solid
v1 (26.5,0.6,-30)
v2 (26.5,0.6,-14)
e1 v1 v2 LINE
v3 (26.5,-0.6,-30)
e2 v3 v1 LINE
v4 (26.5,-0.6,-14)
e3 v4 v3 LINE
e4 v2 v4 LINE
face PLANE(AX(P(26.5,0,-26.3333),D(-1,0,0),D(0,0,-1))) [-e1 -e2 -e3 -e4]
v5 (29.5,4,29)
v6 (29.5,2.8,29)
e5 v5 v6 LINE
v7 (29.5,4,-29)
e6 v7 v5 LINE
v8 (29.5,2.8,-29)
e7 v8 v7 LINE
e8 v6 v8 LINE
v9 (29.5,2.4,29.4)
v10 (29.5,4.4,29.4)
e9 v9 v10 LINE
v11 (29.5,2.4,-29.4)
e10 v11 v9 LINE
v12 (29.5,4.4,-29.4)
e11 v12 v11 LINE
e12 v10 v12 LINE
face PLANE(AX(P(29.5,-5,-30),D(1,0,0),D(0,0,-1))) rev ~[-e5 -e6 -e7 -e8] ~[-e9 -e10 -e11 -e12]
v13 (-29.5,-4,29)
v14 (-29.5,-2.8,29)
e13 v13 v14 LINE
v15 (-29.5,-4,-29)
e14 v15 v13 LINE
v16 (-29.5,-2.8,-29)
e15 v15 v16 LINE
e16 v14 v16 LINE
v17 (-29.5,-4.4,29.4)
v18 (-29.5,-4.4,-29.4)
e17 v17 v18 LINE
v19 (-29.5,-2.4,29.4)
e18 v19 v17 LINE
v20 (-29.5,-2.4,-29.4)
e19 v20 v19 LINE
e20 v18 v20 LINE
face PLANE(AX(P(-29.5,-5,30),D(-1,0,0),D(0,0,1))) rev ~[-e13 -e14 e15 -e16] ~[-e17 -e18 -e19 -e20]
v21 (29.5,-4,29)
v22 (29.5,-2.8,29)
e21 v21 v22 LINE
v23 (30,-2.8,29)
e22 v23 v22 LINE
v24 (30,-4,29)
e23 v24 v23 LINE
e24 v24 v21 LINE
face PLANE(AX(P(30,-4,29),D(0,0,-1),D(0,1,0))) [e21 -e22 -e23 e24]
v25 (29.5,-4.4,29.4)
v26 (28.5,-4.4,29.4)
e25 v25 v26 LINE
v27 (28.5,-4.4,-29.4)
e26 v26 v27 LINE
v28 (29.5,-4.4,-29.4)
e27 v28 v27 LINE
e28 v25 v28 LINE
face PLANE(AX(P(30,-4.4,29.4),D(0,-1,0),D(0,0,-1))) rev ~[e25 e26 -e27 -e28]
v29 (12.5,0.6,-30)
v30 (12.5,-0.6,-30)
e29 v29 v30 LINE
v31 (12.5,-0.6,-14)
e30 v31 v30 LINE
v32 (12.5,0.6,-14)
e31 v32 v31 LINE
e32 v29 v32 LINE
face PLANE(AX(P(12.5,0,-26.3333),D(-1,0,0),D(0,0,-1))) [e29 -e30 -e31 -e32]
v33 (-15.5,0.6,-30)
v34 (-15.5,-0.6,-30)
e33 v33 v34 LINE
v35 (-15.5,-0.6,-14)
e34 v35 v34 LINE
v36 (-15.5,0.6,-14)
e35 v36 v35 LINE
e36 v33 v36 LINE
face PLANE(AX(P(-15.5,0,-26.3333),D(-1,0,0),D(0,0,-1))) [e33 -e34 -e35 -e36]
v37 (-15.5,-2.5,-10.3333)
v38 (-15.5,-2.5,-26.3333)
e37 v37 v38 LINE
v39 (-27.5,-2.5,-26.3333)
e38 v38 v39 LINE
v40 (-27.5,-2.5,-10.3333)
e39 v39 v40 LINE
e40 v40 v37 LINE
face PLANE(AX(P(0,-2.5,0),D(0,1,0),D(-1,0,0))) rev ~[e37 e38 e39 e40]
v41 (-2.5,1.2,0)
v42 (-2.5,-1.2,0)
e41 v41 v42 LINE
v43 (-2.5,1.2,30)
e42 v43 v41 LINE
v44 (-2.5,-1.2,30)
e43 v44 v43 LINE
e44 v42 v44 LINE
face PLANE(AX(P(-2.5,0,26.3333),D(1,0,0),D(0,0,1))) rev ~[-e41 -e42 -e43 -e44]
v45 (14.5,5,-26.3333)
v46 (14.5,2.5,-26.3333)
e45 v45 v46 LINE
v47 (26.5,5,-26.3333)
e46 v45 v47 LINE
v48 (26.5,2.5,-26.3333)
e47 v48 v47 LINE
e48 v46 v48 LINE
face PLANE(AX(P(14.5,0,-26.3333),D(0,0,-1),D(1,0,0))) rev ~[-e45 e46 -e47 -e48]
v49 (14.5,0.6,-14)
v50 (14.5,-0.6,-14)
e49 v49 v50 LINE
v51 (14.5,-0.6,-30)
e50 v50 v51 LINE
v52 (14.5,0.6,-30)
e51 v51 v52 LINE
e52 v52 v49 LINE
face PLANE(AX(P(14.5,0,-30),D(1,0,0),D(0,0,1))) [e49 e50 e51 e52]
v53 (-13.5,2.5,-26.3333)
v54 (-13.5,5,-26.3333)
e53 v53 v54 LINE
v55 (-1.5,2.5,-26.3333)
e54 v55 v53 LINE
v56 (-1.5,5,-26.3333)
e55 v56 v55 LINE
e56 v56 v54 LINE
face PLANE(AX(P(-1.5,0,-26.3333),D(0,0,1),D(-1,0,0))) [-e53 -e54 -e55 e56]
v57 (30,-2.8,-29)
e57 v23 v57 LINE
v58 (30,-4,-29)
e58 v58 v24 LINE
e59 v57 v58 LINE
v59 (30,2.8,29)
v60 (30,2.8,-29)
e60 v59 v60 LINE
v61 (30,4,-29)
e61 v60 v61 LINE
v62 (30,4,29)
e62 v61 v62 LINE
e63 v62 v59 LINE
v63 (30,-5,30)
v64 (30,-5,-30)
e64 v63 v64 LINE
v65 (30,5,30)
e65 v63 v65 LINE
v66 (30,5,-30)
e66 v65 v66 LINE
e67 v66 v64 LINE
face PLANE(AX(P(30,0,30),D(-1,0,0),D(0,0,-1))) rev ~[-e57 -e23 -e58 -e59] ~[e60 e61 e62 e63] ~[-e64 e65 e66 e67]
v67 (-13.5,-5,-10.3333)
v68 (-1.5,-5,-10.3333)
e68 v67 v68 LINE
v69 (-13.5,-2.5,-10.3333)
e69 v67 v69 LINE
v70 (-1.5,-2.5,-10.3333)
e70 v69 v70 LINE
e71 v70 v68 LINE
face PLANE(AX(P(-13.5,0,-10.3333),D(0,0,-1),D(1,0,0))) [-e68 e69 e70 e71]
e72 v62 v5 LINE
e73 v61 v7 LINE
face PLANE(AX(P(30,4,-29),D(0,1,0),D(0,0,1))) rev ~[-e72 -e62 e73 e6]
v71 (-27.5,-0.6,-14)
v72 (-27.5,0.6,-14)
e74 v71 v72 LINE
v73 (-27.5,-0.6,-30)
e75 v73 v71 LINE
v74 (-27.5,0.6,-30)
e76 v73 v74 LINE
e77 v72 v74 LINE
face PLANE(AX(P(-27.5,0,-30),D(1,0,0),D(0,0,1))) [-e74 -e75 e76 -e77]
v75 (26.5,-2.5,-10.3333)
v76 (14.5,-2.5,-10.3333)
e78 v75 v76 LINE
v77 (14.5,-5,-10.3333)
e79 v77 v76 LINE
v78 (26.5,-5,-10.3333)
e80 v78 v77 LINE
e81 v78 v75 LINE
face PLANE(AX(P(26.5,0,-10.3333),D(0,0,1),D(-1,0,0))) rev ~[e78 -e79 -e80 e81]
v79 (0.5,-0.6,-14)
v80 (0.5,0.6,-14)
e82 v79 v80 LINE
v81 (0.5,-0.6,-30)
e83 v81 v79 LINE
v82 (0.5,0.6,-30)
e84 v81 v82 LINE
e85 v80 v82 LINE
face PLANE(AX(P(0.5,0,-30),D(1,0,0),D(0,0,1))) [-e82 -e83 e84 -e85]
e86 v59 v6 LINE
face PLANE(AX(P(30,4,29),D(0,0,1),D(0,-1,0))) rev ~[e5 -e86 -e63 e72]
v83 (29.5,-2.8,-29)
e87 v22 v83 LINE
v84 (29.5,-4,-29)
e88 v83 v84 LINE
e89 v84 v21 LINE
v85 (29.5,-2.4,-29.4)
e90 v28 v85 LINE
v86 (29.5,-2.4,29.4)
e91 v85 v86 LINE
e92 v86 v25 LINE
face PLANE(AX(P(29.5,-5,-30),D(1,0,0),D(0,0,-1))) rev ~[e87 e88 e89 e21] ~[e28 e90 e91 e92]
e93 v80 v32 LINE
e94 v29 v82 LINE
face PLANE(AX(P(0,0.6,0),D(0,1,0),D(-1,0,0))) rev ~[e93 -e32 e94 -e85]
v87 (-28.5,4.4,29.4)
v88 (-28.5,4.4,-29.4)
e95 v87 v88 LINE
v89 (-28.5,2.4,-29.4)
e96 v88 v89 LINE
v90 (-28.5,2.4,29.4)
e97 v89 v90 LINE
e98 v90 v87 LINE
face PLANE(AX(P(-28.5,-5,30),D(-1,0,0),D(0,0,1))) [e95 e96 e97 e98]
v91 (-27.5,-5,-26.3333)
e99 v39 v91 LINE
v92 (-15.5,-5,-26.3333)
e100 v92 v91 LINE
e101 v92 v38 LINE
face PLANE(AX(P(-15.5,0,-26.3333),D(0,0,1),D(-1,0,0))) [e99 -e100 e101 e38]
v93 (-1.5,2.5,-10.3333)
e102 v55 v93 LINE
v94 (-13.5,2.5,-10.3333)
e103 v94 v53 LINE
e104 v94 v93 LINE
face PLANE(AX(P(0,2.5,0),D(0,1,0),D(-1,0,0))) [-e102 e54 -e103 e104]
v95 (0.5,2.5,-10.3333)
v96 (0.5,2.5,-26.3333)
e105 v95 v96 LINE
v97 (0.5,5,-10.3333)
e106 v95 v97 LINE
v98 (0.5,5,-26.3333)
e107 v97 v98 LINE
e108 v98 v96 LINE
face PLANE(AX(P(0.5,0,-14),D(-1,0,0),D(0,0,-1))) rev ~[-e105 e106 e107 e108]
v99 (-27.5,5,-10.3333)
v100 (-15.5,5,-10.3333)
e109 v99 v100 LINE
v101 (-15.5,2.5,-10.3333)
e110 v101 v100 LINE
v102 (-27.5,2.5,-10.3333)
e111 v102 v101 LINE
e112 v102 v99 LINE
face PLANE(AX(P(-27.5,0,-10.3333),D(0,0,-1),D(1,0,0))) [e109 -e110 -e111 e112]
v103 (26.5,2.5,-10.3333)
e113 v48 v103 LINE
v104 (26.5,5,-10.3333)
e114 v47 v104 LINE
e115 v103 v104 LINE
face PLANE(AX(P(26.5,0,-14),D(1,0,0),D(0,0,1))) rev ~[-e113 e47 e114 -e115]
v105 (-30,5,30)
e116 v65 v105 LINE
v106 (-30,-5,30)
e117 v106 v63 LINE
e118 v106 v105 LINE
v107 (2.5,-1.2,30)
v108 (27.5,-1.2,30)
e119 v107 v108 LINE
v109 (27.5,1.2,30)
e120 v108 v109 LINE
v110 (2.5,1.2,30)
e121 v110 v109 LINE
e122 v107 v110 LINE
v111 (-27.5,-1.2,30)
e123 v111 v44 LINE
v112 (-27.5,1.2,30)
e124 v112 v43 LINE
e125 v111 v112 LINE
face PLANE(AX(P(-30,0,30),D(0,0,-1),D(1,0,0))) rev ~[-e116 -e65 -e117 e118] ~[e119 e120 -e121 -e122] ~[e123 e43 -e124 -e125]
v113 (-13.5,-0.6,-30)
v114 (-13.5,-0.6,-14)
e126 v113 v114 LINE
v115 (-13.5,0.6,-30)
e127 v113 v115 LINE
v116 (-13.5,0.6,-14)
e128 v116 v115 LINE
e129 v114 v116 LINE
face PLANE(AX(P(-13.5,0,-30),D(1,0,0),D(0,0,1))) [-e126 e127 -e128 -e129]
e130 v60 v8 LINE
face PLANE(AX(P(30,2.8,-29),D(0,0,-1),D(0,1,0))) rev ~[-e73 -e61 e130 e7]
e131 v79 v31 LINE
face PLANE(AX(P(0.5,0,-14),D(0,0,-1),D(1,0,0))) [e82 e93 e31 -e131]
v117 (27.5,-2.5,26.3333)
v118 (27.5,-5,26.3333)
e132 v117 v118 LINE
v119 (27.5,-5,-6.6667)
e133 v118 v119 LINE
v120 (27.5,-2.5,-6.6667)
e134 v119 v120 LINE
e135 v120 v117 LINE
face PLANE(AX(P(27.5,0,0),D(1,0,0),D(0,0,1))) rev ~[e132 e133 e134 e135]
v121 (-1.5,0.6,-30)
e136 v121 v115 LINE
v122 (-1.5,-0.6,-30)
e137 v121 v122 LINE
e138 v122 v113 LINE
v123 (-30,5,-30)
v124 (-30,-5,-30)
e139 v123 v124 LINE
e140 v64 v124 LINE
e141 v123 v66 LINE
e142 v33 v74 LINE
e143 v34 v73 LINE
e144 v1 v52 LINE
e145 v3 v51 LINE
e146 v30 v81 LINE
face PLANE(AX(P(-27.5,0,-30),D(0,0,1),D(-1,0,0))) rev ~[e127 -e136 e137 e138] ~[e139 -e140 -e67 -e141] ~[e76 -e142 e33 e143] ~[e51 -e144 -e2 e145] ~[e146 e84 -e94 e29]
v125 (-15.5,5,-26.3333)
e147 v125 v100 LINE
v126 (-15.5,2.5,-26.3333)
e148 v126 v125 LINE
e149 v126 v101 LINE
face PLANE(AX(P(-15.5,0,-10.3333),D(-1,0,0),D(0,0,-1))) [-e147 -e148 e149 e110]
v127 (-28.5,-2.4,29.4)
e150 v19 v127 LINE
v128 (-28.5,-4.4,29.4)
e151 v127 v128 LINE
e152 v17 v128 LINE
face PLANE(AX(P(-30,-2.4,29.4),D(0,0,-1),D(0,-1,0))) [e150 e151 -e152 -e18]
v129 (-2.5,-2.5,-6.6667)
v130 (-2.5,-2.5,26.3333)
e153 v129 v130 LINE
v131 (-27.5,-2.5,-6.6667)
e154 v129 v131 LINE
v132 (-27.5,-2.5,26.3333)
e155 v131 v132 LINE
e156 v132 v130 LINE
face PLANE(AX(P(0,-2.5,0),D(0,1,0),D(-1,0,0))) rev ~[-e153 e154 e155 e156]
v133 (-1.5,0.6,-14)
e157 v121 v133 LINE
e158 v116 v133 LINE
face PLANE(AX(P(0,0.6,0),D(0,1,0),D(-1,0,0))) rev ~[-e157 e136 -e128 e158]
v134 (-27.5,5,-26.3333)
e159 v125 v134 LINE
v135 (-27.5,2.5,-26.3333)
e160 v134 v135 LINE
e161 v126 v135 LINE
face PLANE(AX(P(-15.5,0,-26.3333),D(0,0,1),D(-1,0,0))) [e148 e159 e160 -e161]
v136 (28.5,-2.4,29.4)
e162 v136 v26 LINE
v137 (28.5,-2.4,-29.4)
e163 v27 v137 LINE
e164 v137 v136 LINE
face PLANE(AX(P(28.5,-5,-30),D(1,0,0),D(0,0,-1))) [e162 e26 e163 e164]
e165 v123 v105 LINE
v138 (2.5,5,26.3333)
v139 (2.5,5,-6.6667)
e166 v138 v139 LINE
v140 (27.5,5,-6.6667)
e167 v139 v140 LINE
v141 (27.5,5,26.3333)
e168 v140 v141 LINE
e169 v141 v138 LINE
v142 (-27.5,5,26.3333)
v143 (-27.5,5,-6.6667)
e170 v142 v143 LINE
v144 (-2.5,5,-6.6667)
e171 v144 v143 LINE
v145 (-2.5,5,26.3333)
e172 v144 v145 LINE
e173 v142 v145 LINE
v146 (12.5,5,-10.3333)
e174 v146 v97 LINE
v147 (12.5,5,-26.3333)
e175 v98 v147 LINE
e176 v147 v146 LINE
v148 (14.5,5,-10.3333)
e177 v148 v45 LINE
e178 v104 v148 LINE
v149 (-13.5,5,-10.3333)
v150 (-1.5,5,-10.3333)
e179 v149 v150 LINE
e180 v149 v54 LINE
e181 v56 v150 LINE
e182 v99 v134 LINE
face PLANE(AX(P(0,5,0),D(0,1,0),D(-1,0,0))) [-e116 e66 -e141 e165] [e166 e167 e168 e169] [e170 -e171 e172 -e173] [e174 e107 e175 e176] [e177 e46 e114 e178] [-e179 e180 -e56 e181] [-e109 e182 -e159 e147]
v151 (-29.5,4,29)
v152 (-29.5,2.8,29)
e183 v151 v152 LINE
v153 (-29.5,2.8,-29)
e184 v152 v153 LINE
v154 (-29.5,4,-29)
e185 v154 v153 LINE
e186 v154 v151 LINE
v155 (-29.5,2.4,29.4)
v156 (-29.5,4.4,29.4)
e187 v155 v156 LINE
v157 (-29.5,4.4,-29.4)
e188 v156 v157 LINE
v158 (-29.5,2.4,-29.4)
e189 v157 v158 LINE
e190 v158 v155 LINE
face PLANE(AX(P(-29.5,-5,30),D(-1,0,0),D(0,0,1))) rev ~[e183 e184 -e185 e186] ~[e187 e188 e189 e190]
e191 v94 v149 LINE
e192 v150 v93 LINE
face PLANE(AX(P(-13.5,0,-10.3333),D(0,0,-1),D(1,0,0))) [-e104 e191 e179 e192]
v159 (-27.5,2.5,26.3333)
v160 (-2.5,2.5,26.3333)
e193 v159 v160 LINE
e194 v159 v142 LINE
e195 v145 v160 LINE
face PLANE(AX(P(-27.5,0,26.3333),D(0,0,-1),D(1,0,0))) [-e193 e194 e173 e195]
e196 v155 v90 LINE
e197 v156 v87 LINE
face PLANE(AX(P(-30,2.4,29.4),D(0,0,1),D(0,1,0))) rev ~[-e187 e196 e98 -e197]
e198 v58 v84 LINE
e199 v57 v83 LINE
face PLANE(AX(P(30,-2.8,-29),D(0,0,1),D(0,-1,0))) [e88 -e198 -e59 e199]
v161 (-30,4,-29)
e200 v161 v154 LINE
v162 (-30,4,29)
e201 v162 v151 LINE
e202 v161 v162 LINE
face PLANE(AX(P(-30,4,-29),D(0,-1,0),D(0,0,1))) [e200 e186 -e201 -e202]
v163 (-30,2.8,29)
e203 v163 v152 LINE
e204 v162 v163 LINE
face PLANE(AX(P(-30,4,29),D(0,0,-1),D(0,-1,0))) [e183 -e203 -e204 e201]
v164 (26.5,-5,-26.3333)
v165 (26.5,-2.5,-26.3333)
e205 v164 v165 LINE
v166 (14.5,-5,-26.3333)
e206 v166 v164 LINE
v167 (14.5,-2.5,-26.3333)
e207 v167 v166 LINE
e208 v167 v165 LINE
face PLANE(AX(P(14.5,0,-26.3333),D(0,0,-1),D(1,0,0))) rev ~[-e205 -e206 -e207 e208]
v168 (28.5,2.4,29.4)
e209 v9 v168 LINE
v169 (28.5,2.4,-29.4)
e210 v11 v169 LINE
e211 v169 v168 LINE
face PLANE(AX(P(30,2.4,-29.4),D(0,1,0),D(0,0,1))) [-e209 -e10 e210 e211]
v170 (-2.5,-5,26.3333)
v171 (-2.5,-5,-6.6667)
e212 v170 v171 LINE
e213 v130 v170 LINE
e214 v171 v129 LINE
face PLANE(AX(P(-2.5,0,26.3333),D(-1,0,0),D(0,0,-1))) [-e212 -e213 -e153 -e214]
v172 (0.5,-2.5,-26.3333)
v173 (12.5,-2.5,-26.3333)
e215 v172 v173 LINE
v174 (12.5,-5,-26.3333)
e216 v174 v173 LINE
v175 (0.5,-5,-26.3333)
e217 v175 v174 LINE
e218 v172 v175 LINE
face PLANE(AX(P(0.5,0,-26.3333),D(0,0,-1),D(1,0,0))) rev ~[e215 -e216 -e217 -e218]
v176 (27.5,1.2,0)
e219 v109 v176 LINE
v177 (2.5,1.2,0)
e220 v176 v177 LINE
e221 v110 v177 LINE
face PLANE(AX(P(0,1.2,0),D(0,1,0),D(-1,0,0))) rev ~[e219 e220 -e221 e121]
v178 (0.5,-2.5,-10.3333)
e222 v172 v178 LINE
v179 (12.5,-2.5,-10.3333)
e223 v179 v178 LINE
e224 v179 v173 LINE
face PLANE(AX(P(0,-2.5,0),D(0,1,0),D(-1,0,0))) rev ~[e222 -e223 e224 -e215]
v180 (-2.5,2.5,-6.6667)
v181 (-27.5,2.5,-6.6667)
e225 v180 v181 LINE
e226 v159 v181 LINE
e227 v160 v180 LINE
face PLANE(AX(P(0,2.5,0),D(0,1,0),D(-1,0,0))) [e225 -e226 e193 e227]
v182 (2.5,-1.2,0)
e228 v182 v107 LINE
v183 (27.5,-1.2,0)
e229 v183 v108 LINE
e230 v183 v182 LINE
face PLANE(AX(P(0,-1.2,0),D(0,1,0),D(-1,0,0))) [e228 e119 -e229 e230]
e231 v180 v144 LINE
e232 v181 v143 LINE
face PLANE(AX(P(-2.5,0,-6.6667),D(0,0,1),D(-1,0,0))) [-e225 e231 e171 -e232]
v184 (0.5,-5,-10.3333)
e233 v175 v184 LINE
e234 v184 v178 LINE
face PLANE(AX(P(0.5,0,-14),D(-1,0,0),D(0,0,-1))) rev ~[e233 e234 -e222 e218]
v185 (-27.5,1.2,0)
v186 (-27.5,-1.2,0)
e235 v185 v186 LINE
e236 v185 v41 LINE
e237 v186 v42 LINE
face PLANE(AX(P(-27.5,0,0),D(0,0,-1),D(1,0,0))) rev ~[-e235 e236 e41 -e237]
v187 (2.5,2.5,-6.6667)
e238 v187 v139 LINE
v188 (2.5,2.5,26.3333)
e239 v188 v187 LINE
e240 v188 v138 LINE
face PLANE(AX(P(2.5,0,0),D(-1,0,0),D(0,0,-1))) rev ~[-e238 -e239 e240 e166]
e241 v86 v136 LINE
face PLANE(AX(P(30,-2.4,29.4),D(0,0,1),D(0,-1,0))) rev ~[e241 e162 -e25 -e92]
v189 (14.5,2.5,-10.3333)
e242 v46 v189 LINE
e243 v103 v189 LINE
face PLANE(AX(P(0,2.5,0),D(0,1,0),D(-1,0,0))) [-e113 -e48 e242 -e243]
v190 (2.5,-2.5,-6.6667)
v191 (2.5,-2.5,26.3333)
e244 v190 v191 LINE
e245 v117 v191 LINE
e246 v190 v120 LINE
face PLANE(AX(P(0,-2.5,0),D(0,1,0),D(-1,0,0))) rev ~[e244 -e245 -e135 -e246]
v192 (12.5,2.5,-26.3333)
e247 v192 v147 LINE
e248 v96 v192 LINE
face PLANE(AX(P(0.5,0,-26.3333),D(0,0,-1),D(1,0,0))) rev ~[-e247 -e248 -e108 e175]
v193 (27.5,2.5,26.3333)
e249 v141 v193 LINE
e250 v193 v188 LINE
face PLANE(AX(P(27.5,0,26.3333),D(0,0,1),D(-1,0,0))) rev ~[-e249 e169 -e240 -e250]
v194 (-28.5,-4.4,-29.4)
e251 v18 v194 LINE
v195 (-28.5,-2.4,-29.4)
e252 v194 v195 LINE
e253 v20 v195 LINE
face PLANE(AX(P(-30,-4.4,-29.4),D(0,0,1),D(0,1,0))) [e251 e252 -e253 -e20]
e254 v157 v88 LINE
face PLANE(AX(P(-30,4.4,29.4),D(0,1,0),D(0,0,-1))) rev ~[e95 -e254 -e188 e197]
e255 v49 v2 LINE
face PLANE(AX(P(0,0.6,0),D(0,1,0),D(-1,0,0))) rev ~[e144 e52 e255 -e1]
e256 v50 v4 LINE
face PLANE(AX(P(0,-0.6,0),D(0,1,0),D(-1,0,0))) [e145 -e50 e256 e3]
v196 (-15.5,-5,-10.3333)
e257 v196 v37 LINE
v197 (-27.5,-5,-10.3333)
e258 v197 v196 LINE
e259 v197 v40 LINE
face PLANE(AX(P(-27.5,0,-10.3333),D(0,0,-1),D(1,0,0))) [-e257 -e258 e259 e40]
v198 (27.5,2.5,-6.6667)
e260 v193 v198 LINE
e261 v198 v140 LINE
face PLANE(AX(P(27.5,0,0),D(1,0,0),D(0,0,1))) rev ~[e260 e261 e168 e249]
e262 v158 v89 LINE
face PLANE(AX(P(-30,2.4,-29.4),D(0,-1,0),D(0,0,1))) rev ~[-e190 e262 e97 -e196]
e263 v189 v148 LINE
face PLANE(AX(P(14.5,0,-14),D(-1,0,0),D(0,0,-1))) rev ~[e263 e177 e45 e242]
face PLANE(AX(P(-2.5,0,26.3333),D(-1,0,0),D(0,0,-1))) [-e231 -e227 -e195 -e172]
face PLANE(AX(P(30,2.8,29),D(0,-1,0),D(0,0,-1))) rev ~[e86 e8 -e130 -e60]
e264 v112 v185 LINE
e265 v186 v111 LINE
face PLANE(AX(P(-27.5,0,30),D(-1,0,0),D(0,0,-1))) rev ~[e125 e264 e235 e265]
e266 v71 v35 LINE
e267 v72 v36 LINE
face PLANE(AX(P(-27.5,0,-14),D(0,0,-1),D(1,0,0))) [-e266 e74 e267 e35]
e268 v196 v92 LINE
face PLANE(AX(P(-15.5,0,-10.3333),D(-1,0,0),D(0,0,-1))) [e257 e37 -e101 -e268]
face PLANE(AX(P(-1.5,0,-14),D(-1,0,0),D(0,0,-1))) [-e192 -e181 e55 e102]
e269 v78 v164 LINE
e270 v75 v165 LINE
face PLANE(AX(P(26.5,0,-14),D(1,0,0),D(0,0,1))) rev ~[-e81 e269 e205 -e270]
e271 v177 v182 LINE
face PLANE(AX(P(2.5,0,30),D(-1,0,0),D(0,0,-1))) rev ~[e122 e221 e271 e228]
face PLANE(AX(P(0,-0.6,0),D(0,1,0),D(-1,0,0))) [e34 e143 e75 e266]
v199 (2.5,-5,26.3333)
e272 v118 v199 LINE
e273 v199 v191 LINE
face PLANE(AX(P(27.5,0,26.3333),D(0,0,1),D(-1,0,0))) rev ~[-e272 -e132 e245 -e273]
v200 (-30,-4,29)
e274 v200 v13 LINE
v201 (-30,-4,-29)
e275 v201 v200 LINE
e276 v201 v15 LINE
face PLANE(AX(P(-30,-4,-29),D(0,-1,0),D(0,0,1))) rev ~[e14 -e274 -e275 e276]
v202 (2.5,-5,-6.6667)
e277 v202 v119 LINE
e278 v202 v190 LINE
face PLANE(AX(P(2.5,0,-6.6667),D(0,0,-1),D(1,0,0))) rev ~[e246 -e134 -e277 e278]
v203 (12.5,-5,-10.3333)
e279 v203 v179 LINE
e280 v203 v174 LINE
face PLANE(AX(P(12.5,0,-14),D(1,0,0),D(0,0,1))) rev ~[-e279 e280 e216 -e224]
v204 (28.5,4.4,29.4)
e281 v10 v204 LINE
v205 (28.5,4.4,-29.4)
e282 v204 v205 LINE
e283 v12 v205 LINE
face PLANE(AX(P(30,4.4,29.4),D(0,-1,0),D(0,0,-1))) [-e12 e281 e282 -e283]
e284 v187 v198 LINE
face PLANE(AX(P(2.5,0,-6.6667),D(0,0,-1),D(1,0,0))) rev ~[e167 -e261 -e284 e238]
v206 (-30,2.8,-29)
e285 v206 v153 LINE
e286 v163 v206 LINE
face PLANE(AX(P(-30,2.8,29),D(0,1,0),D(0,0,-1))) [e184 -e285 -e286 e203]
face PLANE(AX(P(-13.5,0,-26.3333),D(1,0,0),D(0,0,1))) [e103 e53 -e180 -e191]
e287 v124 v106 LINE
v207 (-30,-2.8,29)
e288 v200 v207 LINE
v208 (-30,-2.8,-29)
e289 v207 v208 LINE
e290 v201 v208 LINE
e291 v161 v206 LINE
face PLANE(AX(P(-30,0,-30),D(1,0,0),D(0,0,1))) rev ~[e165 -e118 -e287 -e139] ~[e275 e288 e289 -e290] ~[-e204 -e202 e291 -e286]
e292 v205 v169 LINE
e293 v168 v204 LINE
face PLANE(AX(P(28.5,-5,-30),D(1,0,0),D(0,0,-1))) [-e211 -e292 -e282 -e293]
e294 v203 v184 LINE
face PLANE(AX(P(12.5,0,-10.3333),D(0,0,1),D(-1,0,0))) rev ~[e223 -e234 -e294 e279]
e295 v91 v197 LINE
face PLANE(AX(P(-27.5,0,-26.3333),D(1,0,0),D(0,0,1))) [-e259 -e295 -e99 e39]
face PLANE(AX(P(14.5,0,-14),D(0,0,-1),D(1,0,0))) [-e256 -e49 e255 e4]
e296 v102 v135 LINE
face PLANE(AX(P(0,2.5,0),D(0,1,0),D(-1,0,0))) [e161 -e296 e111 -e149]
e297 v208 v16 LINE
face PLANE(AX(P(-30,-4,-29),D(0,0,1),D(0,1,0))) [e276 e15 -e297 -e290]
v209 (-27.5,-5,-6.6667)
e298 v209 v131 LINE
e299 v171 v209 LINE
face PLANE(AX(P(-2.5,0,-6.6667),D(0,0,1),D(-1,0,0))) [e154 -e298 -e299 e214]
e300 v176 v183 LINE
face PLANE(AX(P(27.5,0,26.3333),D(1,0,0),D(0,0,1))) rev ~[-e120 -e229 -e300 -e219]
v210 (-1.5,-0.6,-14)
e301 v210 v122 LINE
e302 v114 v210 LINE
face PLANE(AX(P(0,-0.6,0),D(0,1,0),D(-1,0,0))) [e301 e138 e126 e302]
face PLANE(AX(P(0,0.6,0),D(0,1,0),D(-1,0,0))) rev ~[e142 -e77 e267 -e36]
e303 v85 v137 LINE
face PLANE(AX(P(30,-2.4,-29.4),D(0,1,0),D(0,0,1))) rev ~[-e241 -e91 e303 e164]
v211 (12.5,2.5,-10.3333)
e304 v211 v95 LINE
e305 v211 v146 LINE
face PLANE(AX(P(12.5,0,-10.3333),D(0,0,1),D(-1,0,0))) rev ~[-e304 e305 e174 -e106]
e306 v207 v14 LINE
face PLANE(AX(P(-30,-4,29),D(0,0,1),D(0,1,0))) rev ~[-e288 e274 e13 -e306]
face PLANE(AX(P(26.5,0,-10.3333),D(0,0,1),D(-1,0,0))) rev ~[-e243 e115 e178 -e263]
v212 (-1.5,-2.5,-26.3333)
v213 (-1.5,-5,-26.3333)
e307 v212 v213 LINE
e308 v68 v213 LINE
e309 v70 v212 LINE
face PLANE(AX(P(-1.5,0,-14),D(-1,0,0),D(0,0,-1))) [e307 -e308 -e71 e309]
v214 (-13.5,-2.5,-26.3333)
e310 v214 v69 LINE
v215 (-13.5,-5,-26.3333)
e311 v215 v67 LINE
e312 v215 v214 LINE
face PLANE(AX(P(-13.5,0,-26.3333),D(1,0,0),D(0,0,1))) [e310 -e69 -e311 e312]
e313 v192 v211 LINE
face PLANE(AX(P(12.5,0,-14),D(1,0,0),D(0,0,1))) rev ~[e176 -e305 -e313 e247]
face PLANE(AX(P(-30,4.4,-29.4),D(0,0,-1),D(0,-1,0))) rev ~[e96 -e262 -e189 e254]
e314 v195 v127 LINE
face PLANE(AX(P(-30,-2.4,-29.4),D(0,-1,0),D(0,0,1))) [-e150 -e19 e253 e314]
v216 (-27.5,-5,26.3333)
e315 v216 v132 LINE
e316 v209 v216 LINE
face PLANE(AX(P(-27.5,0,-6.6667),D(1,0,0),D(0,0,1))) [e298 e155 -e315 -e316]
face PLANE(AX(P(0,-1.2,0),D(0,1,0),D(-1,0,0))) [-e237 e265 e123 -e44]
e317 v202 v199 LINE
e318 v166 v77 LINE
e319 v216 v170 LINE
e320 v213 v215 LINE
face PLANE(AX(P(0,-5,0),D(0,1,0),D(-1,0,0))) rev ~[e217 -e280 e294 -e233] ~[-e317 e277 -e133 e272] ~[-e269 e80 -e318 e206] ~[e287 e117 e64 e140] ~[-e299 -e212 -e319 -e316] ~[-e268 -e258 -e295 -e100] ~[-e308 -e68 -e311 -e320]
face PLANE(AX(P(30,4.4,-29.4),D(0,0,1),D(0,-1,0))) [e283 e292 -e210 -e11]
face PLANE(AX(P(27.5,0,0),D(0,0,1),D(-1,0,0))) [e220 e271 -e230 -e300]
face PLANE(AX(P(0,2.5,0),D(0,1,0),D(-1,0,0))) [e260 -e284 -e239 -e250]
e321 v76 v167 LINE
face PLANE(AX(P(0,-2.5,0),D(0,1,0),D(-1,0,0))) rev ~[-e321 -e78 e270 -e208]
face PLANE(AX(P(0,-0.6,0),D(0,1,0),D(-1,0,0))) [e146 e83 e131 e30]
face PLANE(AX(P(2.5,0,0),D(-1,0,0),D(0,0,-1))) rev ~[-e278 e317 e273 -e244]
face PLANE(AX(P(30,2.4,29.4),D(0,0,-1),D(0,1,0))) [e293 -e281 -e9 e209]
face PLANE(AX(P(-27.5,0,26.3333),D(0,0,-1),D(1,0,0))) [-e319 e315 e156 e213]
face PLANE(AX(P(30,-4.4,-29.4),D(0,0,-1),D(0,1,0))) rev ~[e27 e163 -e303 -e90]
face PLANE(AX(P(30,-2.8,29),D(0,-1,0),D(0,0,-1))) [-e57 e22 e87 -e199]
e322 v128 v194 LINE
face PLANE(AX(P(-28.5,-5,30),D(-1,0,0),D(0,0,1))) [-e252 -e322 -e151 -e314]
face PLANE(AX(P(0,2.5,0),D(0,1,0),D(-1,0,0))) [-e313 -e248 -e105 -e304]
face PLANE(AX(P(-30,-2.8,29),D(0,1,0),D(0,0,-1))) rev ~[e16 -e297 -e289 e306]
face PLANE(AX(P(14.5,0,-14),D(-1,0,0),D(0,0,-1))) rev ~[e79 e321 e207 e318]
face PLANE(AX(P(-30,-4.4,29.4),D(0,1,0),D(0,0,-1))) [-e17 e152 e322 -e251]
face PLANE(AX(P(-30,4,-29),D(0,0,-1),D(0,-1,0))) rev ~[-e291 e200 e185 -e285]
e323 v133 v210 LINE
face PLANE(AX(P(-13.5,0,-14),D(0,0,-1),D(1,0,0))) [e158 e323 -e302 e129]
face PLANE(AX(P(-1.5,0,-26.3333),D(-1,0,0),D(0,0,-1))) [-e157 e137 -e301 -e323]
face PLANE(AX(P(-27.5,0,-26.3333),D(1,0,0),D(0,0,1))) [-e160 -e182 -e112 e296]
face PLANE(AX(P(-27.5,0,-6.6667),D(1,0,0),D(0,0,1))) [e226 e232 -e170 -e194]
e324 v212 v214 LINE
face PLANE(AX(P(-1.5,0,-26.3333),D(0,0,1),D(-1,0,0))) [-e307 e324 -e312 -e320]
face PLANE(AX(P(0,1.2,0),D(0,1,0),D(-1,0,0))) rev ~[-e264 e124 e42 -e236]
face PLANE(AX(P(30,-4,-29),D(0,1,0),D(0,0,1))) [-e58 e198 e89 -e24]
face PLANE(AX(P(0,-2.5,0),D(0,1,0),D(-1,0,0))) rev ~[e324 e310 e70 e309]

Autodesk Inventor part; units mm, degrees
ref_plane "YZ Plane" through (0, 0, 0) normal (1, 0, 0) x (0, 1, 0)
ref_plane "XZ Plane" through (0, 0, 0) normal (0, 1, 0) x (-1, 0, 0)
ref_plane "XY Plane" through (0, 0, 0) normal (0, 0, 1) x (1, 0, 0)
sketch "Schizzo1" plane through (0, 0, 0) normal (0, 1, 0) x (-1, 0, 0)
  line L0 (30, 30) -> (-30, 30)
  line L1 (-30, 30) -> (-30, -30)
  line L2 (-30, -30) -> (30, -30)
  line L3 (30, -30) -> (30, 30)
  line L4 (0, 0) -> (0, -115.6454) construction
  line L5 (0, 0) -> (41.0796, 0) construction
  line L6 (27.5, 26.3333) -> (2.5, 26.3333)
  line L7 (2.5, 26.3333) -> (2.5, -6.6667)
  line L8 (2.5, -6.6667) -> (27.5, -6.6667)
  line L9 (27.5, -6.6667) -> (27.5, 26.3333)
  line L10 (30, 30) -> (30, 26.3333) construction
  line L11 (30, 26.3333) -> (27.5, 26.3333) construction
  line L12 (15.5, -10.3333) -> (15.5, -26.3333)
  line L13 (15.5, -26.3333) -> (27.5, -26.3333)
  line L14 (27.5, -26.3333) -> (27.5, -10.3333)
  line L15 (27.5, -10.3333) -> (15.5, -10.3333)
  line L16 (27.5, -6.6667) -> (27.5, -10.3333) construction
  line L17 (27.5, -10.3333) -> (30, -10.3333) construction
  line L18 (1.5, -10.3333) -> (1.5, -26.3333)
  line L19 (1.5, -26.3333) -> (13.5, -26.3333)
  line L20 (13.5, -10.3333) -> (1.5, -10.3333)
  line L21 (15.5, -10.3333) -> (13.5, -10.3333) construction
  line L22 (-2.5, -6.6667) -> (-27.5, -6.6667)
  line L23 (-27.5, -6.6667) -> (-27.5, 26.3333)
  line L24 (-27.5, 26.3333) -> (-2.5, 26.3333)
  line L25 (-2.5, 26.3333) -> (-2.5, -6.6667)
  line L26 (-14.5, -10.3333) -> (-14.5, -26.3333)
  line L27 (-14.5, -26.3333) -> (-26.5, -26.3333)
  line L28 (-26.5, -26.3333) -> (-26.5, -10.3333)
  line L29 (-26.5, -10.3333) -> (-14.5, -10.3333)
  line L30 (-0.5, -10.3333) -> (-0.5, -26.3333)
  line L31 (-12.5, -26.3333) -> (-12.5, -10.3333)
  line L32 (-12.5, -10.3333) -> (-0.5, -10.3333)
  line L33 (-0.5, -26.3333) -> (-12.5, -26.3333)
  line L34 (4.1, -0.1) -> (3.9, -0.1) construction
  line L35 (1.5, -10.3333) -> (-0.5, -10.3333) construction
  line L36 (-12.5, -10.3333) -> (-14.5, -10.3333) construction
  line L37 (2.5, 26.3333) -> (-2.5, 26.3333) construction
  line L38 (27.5, 30) -> (27.5, 0)
  line L39 (27.5, 0) -> (2.5, 0)
  line L40 (2.5, 0) -> (2.5, 30)
  line L41 (-27.5, 0) -> (-2.5, 0)
  line L42 (-2.5, 30) -> (-2.5, 0)
  line L43 (-2.5, 0) -> (-27.5, 0)
  line L44 (-27.5, 0) -> (-27.5, 30)
  line L45 (28.75, 30) -> (28.75, 26.3333) construction
  line L46 (27.5, -30) -> (27.5, -14)
  line L47 (27.5, -14) -> (15.5, -14)
  line L48 (15.5, -14) -> (15.5, -30)
  line L49 (27.5, -30) -> (27.5, -26.3333) construction
  line L50 (27.5, -26.3333) -> (30, -26.3333) construction
  line L51 (28.75, -26.3333) -> (28.75, -30) construction
  line L52 (15.5, -26.3333) -> (13.5, -26.3333) construction
  line L53 (-27.5, 26.3333) -> (-30, 26.3333) construction
  line L54 (13.5, -26.3333) -> (13.5, -10.3333)
  line L55 (1.5, -14) -> (1.5, -30)
  line L56 (13.5, -14) -> (1.5, -14)
  line L57 (13.5, -30) -> (13.5, -14)
  line L58 (-12.5, -14) -> (-12.5, -30)
  line L59 (-0.5, -14) -> (-12.5, -14)
  line L60 (-0.5, -30) -> (-0.5, -14)
  line L61 (-26.5, -14) -> (-26.5, -30)
  line L62 (-14.5, -14) -> (-26.5, -14)
  line L63 (-14.5, -30) -> (-14.5, -14)
  point P0 (0.4384, -30)
  point P1 (-4.1232, -30)
  point P2 (-2.5, 0)
  dimension "d2" = 25
  dimension "d3" = 33
  dimension "d6" = 12
  dimension "d26" = 60
  dimension "d46" = 30
  dimension "d47" = 16
  dimension "d61" = 60
  dimension "d62" = 2
  dimension "d63" = 16
  dimension "d66" = 14
  dimension "d71" = 5
  dimension "d82" = 2.5
extrude "Estrusione1" add sketch "Schizzo1" along normal mid plane 10 contours L3 L2 L46 L14 L15 L12 L48 L57 L54 L20 L18 L55 L60 L30 L32 L31 L58 L63 L26 L29 L28 L61 L1 L0 L44 L23 L22 L25 L42 L40 L7 L8 L9 L38 | L38 L6 L40 L0 | L2 L48 L13 L46 | L42 L24 L44 L0 | L2 L55 L19 L57 | L19 L18 L56 L54 | L2 L58 L33 L60 | L56 L18 L20 L54 | L61 L27 L63 L2
extrude "Estrusione2" add sketch "Schizzo1" along normal mid plane 5 contours L9 L39 L7 L6 | L9 L8 L7 L39 | L13 L12 L47 L14 | L25 L41 L23 L24 | L47 L12 L15 L14 | L25 L22 L23 L41 | L33 L31 L59 L30 | L28 L62 L26 L27 | L59 L31 L32 L30 | L28 L29 L26 L62
extrude "Estrusione10" cut sketch "Schizzo1" along normal mid plane 10 contours L19 L18 L56 L54 | L56 L18 L20 L54
extrude "Estrusione11" add sketch "Schizzo1" along normal mid plane 5 contours L19 L18 L56 L54 | L56 L18 L20 L54
extrude "Estrusione12" cut sketch "Schizzo1" along normal mid plane 1.2 contours L2 L48 L13 L46 | L13 L12 L47 L14 | L2 L55 L19 L57 | L19 L18 L56 L54 | L2 L58 L33 L60 | L61 L27 L63 L2 | L33 L31 L59 L30 | L28 L62 L26 L27
extrude "Estrusione13" cut sketch "Schizzo1" along normal mid plane 2.4 contours L38 L6 L40 L0 | L9 L39 L7 L6 | L42 L24 L44 L0 | L25 L41 L23 L24
sketch "Schizzo5" plane through (-30, -5, 30) normal (-1, 0, 0) x (0, 0, 1)
  line L0 (-60, 0) -> (-60, 10) projected
  line L1 (0, 0) -> (-60, 0) projected
  line L2 (-60, 10) -> (0, 10) projected
  line L3 (0, 0) -> (0, 10) projected
  line L4 (-60, 0) -> (-60, 10) construction
  line L5 (-60, 5) -> (-60, 1) construction
  line L6 (-30, 5) -> (-145.6454, 5) construction
  line L7 (-59, 9) -> (-59, 7.8)
  line L8 (-59, 9) -> (-1, 9)
  line L9 (-1, 9) -> (-1, 7.8)
  line L10 (-1, 7.8) -> (-59, 7.8)
  line L11 (-0.6, 9.4) -> (-59.4, 9.4)
  line L12 (-59.4, 9.4) -> (-59.4, 7.4)
  line L13 (-59.4, 7.4) -> (-0.6, 7.4)
  line L14 (-0.6, 7.4) -> (-0.6, 9.4)
  line L15 (-59, 1) -> (-1, 1)
  line L16 (-1, 2.2) -> (-59, 2.2)
  line L17 (-59, 1) -> (-59, 2.2)
  line L18 (-1, 1) -> (-1, 2.2)
  line L19 (-0.6, 0.6) -> (-59.4, 0.6)
  line L20 (-59.4, 0.6) -> (-59.4, 2.6)
  line L21 (-59.4, 2.6) -> (-0.6, 2.6)
  line L22 (-0.6, 2.6) -> (-0.6, 0.6)
  line L23 (-59, 9) -> (-59, 10) construction
  line L24 (0, 10) -> (-60, 10) projected
  line L25 (-59, 9) -> (-60, 9) construction
  dimension "d83" = 10
  dimension "d84" = 4
  dimension "d87" = 60
  dimension "d109" = 0.4
  dimension "d110" = 0.4
  dimension "d112" = 0.4
  dimension "d113" = 58
  dimension "d114" = 1
  dimension "d115" = 1
  dimension "d116" = 1.2
  dimension "d117" = 1.2
extrude "Estrusione14" cut sketch "Schizzo5" against normal blind 1.5 contours L8 L9 L10 L7 | L14 L13 L12 L11 | L17 L16 L18 L15 | L19 L20 L21 L22
extrude "Estrusione15" add sketch "Schizzo5" against normal blind 0.5 contours L14 L13 L12 L11 | L19 L20 L21 L22
sketch "Schizzo8" plane through (30, -5, -30) normal (1, 0, 0) x (0, 0, -1)
  line L0 (-60, 3.8) -> (-60, 6.2) construction
  line L1 (-60, 5) -> (-60, 1) construction
  line L2 (-59, 1) -> (-59, 2.2)
  line L3 (0, 0) -> (0, 10) projected
  line L4 (-1, 2.2) -> (-1, 1)
  line L5 (-59, 2.2) -> (-1, 2.2)
  line L6 (-1, 1) -> (-1, 2.2)
  line L7 (-1, 1) -> (-59, 1)
  line L8 (-59, 2.2) -> (-1, 2.2)
  line L9 (-59.4, 2.6) -> (-59.4, 0.6)
  line L10 (-59.4, 0.6) -> (-0.6, 0.6)
  line L11 (-0.6, 0.6) -> (-0.6, 2.6)
  line L12 (-0.6, 2.6) -> (-59.4, 2.6)
  line L13 (-60, 5) -> (0, 5) projected
  line L14 (-59, 9) -> (-59, 7.8)
  line L15 (-59, 9) -> (-59, 7.8)
  line L16 (-1, 7.8) -> (-1, 9)
  line L17 (-1, 9) -> (-1, 7.8)
  line L18 (-1, 9) -> (-59, 9)
  line L19 (-59, 7.8) -> (-1, 7.8)
  line L20 (-59.4, 7.4) -> (-59.4, 9.4)
  line L21 (-59.4, 9.4) -> (-0.6, 9.4)
  line L22 (-0.6, 9.4) -> (-0.6, 7.4)
  line L23 (-0.6, 7.4) -> (-59.4, 7.4)
  line L24 (-60, 0) -> (-60, 10) construction
  line L25 (-60, 0) -> (-60, 1) construction
  line L26 (-1, 1) -> (-59, 1) projected
  line L27 (-60, 1) -> (-59, 1) construction
  line L28 (-60, 10) -> (-60, 9) construction
  line L29 (-1, 9) -> (-59, 9) projected
  line L30 (-60, 9) -> (-59, 9) construction
  line L31 (-1, 9) -> (-1.4, 9) construction
  point P0 (-30, 5)
  dimension "d101" = 4
  dimension "d121" = 0.4
  dimension "d122" = 0.4
  dimension "d123" = 1.2
  dimension "d125" = 1
  dimension "d130" = 0.4
extrude "Estrusione18" cut sketch "Schizzo8" against normal blind 1.5 contours L2 L5 L4 L7 | L12 L11 L10 L9 | L18 L16 L19 L14 | L20 L21 L22 L23
extrude "Estrusione19" add sketch "Schizzo8" against normal blind 0.5
properties part number "cotieni SD-micro SD"
